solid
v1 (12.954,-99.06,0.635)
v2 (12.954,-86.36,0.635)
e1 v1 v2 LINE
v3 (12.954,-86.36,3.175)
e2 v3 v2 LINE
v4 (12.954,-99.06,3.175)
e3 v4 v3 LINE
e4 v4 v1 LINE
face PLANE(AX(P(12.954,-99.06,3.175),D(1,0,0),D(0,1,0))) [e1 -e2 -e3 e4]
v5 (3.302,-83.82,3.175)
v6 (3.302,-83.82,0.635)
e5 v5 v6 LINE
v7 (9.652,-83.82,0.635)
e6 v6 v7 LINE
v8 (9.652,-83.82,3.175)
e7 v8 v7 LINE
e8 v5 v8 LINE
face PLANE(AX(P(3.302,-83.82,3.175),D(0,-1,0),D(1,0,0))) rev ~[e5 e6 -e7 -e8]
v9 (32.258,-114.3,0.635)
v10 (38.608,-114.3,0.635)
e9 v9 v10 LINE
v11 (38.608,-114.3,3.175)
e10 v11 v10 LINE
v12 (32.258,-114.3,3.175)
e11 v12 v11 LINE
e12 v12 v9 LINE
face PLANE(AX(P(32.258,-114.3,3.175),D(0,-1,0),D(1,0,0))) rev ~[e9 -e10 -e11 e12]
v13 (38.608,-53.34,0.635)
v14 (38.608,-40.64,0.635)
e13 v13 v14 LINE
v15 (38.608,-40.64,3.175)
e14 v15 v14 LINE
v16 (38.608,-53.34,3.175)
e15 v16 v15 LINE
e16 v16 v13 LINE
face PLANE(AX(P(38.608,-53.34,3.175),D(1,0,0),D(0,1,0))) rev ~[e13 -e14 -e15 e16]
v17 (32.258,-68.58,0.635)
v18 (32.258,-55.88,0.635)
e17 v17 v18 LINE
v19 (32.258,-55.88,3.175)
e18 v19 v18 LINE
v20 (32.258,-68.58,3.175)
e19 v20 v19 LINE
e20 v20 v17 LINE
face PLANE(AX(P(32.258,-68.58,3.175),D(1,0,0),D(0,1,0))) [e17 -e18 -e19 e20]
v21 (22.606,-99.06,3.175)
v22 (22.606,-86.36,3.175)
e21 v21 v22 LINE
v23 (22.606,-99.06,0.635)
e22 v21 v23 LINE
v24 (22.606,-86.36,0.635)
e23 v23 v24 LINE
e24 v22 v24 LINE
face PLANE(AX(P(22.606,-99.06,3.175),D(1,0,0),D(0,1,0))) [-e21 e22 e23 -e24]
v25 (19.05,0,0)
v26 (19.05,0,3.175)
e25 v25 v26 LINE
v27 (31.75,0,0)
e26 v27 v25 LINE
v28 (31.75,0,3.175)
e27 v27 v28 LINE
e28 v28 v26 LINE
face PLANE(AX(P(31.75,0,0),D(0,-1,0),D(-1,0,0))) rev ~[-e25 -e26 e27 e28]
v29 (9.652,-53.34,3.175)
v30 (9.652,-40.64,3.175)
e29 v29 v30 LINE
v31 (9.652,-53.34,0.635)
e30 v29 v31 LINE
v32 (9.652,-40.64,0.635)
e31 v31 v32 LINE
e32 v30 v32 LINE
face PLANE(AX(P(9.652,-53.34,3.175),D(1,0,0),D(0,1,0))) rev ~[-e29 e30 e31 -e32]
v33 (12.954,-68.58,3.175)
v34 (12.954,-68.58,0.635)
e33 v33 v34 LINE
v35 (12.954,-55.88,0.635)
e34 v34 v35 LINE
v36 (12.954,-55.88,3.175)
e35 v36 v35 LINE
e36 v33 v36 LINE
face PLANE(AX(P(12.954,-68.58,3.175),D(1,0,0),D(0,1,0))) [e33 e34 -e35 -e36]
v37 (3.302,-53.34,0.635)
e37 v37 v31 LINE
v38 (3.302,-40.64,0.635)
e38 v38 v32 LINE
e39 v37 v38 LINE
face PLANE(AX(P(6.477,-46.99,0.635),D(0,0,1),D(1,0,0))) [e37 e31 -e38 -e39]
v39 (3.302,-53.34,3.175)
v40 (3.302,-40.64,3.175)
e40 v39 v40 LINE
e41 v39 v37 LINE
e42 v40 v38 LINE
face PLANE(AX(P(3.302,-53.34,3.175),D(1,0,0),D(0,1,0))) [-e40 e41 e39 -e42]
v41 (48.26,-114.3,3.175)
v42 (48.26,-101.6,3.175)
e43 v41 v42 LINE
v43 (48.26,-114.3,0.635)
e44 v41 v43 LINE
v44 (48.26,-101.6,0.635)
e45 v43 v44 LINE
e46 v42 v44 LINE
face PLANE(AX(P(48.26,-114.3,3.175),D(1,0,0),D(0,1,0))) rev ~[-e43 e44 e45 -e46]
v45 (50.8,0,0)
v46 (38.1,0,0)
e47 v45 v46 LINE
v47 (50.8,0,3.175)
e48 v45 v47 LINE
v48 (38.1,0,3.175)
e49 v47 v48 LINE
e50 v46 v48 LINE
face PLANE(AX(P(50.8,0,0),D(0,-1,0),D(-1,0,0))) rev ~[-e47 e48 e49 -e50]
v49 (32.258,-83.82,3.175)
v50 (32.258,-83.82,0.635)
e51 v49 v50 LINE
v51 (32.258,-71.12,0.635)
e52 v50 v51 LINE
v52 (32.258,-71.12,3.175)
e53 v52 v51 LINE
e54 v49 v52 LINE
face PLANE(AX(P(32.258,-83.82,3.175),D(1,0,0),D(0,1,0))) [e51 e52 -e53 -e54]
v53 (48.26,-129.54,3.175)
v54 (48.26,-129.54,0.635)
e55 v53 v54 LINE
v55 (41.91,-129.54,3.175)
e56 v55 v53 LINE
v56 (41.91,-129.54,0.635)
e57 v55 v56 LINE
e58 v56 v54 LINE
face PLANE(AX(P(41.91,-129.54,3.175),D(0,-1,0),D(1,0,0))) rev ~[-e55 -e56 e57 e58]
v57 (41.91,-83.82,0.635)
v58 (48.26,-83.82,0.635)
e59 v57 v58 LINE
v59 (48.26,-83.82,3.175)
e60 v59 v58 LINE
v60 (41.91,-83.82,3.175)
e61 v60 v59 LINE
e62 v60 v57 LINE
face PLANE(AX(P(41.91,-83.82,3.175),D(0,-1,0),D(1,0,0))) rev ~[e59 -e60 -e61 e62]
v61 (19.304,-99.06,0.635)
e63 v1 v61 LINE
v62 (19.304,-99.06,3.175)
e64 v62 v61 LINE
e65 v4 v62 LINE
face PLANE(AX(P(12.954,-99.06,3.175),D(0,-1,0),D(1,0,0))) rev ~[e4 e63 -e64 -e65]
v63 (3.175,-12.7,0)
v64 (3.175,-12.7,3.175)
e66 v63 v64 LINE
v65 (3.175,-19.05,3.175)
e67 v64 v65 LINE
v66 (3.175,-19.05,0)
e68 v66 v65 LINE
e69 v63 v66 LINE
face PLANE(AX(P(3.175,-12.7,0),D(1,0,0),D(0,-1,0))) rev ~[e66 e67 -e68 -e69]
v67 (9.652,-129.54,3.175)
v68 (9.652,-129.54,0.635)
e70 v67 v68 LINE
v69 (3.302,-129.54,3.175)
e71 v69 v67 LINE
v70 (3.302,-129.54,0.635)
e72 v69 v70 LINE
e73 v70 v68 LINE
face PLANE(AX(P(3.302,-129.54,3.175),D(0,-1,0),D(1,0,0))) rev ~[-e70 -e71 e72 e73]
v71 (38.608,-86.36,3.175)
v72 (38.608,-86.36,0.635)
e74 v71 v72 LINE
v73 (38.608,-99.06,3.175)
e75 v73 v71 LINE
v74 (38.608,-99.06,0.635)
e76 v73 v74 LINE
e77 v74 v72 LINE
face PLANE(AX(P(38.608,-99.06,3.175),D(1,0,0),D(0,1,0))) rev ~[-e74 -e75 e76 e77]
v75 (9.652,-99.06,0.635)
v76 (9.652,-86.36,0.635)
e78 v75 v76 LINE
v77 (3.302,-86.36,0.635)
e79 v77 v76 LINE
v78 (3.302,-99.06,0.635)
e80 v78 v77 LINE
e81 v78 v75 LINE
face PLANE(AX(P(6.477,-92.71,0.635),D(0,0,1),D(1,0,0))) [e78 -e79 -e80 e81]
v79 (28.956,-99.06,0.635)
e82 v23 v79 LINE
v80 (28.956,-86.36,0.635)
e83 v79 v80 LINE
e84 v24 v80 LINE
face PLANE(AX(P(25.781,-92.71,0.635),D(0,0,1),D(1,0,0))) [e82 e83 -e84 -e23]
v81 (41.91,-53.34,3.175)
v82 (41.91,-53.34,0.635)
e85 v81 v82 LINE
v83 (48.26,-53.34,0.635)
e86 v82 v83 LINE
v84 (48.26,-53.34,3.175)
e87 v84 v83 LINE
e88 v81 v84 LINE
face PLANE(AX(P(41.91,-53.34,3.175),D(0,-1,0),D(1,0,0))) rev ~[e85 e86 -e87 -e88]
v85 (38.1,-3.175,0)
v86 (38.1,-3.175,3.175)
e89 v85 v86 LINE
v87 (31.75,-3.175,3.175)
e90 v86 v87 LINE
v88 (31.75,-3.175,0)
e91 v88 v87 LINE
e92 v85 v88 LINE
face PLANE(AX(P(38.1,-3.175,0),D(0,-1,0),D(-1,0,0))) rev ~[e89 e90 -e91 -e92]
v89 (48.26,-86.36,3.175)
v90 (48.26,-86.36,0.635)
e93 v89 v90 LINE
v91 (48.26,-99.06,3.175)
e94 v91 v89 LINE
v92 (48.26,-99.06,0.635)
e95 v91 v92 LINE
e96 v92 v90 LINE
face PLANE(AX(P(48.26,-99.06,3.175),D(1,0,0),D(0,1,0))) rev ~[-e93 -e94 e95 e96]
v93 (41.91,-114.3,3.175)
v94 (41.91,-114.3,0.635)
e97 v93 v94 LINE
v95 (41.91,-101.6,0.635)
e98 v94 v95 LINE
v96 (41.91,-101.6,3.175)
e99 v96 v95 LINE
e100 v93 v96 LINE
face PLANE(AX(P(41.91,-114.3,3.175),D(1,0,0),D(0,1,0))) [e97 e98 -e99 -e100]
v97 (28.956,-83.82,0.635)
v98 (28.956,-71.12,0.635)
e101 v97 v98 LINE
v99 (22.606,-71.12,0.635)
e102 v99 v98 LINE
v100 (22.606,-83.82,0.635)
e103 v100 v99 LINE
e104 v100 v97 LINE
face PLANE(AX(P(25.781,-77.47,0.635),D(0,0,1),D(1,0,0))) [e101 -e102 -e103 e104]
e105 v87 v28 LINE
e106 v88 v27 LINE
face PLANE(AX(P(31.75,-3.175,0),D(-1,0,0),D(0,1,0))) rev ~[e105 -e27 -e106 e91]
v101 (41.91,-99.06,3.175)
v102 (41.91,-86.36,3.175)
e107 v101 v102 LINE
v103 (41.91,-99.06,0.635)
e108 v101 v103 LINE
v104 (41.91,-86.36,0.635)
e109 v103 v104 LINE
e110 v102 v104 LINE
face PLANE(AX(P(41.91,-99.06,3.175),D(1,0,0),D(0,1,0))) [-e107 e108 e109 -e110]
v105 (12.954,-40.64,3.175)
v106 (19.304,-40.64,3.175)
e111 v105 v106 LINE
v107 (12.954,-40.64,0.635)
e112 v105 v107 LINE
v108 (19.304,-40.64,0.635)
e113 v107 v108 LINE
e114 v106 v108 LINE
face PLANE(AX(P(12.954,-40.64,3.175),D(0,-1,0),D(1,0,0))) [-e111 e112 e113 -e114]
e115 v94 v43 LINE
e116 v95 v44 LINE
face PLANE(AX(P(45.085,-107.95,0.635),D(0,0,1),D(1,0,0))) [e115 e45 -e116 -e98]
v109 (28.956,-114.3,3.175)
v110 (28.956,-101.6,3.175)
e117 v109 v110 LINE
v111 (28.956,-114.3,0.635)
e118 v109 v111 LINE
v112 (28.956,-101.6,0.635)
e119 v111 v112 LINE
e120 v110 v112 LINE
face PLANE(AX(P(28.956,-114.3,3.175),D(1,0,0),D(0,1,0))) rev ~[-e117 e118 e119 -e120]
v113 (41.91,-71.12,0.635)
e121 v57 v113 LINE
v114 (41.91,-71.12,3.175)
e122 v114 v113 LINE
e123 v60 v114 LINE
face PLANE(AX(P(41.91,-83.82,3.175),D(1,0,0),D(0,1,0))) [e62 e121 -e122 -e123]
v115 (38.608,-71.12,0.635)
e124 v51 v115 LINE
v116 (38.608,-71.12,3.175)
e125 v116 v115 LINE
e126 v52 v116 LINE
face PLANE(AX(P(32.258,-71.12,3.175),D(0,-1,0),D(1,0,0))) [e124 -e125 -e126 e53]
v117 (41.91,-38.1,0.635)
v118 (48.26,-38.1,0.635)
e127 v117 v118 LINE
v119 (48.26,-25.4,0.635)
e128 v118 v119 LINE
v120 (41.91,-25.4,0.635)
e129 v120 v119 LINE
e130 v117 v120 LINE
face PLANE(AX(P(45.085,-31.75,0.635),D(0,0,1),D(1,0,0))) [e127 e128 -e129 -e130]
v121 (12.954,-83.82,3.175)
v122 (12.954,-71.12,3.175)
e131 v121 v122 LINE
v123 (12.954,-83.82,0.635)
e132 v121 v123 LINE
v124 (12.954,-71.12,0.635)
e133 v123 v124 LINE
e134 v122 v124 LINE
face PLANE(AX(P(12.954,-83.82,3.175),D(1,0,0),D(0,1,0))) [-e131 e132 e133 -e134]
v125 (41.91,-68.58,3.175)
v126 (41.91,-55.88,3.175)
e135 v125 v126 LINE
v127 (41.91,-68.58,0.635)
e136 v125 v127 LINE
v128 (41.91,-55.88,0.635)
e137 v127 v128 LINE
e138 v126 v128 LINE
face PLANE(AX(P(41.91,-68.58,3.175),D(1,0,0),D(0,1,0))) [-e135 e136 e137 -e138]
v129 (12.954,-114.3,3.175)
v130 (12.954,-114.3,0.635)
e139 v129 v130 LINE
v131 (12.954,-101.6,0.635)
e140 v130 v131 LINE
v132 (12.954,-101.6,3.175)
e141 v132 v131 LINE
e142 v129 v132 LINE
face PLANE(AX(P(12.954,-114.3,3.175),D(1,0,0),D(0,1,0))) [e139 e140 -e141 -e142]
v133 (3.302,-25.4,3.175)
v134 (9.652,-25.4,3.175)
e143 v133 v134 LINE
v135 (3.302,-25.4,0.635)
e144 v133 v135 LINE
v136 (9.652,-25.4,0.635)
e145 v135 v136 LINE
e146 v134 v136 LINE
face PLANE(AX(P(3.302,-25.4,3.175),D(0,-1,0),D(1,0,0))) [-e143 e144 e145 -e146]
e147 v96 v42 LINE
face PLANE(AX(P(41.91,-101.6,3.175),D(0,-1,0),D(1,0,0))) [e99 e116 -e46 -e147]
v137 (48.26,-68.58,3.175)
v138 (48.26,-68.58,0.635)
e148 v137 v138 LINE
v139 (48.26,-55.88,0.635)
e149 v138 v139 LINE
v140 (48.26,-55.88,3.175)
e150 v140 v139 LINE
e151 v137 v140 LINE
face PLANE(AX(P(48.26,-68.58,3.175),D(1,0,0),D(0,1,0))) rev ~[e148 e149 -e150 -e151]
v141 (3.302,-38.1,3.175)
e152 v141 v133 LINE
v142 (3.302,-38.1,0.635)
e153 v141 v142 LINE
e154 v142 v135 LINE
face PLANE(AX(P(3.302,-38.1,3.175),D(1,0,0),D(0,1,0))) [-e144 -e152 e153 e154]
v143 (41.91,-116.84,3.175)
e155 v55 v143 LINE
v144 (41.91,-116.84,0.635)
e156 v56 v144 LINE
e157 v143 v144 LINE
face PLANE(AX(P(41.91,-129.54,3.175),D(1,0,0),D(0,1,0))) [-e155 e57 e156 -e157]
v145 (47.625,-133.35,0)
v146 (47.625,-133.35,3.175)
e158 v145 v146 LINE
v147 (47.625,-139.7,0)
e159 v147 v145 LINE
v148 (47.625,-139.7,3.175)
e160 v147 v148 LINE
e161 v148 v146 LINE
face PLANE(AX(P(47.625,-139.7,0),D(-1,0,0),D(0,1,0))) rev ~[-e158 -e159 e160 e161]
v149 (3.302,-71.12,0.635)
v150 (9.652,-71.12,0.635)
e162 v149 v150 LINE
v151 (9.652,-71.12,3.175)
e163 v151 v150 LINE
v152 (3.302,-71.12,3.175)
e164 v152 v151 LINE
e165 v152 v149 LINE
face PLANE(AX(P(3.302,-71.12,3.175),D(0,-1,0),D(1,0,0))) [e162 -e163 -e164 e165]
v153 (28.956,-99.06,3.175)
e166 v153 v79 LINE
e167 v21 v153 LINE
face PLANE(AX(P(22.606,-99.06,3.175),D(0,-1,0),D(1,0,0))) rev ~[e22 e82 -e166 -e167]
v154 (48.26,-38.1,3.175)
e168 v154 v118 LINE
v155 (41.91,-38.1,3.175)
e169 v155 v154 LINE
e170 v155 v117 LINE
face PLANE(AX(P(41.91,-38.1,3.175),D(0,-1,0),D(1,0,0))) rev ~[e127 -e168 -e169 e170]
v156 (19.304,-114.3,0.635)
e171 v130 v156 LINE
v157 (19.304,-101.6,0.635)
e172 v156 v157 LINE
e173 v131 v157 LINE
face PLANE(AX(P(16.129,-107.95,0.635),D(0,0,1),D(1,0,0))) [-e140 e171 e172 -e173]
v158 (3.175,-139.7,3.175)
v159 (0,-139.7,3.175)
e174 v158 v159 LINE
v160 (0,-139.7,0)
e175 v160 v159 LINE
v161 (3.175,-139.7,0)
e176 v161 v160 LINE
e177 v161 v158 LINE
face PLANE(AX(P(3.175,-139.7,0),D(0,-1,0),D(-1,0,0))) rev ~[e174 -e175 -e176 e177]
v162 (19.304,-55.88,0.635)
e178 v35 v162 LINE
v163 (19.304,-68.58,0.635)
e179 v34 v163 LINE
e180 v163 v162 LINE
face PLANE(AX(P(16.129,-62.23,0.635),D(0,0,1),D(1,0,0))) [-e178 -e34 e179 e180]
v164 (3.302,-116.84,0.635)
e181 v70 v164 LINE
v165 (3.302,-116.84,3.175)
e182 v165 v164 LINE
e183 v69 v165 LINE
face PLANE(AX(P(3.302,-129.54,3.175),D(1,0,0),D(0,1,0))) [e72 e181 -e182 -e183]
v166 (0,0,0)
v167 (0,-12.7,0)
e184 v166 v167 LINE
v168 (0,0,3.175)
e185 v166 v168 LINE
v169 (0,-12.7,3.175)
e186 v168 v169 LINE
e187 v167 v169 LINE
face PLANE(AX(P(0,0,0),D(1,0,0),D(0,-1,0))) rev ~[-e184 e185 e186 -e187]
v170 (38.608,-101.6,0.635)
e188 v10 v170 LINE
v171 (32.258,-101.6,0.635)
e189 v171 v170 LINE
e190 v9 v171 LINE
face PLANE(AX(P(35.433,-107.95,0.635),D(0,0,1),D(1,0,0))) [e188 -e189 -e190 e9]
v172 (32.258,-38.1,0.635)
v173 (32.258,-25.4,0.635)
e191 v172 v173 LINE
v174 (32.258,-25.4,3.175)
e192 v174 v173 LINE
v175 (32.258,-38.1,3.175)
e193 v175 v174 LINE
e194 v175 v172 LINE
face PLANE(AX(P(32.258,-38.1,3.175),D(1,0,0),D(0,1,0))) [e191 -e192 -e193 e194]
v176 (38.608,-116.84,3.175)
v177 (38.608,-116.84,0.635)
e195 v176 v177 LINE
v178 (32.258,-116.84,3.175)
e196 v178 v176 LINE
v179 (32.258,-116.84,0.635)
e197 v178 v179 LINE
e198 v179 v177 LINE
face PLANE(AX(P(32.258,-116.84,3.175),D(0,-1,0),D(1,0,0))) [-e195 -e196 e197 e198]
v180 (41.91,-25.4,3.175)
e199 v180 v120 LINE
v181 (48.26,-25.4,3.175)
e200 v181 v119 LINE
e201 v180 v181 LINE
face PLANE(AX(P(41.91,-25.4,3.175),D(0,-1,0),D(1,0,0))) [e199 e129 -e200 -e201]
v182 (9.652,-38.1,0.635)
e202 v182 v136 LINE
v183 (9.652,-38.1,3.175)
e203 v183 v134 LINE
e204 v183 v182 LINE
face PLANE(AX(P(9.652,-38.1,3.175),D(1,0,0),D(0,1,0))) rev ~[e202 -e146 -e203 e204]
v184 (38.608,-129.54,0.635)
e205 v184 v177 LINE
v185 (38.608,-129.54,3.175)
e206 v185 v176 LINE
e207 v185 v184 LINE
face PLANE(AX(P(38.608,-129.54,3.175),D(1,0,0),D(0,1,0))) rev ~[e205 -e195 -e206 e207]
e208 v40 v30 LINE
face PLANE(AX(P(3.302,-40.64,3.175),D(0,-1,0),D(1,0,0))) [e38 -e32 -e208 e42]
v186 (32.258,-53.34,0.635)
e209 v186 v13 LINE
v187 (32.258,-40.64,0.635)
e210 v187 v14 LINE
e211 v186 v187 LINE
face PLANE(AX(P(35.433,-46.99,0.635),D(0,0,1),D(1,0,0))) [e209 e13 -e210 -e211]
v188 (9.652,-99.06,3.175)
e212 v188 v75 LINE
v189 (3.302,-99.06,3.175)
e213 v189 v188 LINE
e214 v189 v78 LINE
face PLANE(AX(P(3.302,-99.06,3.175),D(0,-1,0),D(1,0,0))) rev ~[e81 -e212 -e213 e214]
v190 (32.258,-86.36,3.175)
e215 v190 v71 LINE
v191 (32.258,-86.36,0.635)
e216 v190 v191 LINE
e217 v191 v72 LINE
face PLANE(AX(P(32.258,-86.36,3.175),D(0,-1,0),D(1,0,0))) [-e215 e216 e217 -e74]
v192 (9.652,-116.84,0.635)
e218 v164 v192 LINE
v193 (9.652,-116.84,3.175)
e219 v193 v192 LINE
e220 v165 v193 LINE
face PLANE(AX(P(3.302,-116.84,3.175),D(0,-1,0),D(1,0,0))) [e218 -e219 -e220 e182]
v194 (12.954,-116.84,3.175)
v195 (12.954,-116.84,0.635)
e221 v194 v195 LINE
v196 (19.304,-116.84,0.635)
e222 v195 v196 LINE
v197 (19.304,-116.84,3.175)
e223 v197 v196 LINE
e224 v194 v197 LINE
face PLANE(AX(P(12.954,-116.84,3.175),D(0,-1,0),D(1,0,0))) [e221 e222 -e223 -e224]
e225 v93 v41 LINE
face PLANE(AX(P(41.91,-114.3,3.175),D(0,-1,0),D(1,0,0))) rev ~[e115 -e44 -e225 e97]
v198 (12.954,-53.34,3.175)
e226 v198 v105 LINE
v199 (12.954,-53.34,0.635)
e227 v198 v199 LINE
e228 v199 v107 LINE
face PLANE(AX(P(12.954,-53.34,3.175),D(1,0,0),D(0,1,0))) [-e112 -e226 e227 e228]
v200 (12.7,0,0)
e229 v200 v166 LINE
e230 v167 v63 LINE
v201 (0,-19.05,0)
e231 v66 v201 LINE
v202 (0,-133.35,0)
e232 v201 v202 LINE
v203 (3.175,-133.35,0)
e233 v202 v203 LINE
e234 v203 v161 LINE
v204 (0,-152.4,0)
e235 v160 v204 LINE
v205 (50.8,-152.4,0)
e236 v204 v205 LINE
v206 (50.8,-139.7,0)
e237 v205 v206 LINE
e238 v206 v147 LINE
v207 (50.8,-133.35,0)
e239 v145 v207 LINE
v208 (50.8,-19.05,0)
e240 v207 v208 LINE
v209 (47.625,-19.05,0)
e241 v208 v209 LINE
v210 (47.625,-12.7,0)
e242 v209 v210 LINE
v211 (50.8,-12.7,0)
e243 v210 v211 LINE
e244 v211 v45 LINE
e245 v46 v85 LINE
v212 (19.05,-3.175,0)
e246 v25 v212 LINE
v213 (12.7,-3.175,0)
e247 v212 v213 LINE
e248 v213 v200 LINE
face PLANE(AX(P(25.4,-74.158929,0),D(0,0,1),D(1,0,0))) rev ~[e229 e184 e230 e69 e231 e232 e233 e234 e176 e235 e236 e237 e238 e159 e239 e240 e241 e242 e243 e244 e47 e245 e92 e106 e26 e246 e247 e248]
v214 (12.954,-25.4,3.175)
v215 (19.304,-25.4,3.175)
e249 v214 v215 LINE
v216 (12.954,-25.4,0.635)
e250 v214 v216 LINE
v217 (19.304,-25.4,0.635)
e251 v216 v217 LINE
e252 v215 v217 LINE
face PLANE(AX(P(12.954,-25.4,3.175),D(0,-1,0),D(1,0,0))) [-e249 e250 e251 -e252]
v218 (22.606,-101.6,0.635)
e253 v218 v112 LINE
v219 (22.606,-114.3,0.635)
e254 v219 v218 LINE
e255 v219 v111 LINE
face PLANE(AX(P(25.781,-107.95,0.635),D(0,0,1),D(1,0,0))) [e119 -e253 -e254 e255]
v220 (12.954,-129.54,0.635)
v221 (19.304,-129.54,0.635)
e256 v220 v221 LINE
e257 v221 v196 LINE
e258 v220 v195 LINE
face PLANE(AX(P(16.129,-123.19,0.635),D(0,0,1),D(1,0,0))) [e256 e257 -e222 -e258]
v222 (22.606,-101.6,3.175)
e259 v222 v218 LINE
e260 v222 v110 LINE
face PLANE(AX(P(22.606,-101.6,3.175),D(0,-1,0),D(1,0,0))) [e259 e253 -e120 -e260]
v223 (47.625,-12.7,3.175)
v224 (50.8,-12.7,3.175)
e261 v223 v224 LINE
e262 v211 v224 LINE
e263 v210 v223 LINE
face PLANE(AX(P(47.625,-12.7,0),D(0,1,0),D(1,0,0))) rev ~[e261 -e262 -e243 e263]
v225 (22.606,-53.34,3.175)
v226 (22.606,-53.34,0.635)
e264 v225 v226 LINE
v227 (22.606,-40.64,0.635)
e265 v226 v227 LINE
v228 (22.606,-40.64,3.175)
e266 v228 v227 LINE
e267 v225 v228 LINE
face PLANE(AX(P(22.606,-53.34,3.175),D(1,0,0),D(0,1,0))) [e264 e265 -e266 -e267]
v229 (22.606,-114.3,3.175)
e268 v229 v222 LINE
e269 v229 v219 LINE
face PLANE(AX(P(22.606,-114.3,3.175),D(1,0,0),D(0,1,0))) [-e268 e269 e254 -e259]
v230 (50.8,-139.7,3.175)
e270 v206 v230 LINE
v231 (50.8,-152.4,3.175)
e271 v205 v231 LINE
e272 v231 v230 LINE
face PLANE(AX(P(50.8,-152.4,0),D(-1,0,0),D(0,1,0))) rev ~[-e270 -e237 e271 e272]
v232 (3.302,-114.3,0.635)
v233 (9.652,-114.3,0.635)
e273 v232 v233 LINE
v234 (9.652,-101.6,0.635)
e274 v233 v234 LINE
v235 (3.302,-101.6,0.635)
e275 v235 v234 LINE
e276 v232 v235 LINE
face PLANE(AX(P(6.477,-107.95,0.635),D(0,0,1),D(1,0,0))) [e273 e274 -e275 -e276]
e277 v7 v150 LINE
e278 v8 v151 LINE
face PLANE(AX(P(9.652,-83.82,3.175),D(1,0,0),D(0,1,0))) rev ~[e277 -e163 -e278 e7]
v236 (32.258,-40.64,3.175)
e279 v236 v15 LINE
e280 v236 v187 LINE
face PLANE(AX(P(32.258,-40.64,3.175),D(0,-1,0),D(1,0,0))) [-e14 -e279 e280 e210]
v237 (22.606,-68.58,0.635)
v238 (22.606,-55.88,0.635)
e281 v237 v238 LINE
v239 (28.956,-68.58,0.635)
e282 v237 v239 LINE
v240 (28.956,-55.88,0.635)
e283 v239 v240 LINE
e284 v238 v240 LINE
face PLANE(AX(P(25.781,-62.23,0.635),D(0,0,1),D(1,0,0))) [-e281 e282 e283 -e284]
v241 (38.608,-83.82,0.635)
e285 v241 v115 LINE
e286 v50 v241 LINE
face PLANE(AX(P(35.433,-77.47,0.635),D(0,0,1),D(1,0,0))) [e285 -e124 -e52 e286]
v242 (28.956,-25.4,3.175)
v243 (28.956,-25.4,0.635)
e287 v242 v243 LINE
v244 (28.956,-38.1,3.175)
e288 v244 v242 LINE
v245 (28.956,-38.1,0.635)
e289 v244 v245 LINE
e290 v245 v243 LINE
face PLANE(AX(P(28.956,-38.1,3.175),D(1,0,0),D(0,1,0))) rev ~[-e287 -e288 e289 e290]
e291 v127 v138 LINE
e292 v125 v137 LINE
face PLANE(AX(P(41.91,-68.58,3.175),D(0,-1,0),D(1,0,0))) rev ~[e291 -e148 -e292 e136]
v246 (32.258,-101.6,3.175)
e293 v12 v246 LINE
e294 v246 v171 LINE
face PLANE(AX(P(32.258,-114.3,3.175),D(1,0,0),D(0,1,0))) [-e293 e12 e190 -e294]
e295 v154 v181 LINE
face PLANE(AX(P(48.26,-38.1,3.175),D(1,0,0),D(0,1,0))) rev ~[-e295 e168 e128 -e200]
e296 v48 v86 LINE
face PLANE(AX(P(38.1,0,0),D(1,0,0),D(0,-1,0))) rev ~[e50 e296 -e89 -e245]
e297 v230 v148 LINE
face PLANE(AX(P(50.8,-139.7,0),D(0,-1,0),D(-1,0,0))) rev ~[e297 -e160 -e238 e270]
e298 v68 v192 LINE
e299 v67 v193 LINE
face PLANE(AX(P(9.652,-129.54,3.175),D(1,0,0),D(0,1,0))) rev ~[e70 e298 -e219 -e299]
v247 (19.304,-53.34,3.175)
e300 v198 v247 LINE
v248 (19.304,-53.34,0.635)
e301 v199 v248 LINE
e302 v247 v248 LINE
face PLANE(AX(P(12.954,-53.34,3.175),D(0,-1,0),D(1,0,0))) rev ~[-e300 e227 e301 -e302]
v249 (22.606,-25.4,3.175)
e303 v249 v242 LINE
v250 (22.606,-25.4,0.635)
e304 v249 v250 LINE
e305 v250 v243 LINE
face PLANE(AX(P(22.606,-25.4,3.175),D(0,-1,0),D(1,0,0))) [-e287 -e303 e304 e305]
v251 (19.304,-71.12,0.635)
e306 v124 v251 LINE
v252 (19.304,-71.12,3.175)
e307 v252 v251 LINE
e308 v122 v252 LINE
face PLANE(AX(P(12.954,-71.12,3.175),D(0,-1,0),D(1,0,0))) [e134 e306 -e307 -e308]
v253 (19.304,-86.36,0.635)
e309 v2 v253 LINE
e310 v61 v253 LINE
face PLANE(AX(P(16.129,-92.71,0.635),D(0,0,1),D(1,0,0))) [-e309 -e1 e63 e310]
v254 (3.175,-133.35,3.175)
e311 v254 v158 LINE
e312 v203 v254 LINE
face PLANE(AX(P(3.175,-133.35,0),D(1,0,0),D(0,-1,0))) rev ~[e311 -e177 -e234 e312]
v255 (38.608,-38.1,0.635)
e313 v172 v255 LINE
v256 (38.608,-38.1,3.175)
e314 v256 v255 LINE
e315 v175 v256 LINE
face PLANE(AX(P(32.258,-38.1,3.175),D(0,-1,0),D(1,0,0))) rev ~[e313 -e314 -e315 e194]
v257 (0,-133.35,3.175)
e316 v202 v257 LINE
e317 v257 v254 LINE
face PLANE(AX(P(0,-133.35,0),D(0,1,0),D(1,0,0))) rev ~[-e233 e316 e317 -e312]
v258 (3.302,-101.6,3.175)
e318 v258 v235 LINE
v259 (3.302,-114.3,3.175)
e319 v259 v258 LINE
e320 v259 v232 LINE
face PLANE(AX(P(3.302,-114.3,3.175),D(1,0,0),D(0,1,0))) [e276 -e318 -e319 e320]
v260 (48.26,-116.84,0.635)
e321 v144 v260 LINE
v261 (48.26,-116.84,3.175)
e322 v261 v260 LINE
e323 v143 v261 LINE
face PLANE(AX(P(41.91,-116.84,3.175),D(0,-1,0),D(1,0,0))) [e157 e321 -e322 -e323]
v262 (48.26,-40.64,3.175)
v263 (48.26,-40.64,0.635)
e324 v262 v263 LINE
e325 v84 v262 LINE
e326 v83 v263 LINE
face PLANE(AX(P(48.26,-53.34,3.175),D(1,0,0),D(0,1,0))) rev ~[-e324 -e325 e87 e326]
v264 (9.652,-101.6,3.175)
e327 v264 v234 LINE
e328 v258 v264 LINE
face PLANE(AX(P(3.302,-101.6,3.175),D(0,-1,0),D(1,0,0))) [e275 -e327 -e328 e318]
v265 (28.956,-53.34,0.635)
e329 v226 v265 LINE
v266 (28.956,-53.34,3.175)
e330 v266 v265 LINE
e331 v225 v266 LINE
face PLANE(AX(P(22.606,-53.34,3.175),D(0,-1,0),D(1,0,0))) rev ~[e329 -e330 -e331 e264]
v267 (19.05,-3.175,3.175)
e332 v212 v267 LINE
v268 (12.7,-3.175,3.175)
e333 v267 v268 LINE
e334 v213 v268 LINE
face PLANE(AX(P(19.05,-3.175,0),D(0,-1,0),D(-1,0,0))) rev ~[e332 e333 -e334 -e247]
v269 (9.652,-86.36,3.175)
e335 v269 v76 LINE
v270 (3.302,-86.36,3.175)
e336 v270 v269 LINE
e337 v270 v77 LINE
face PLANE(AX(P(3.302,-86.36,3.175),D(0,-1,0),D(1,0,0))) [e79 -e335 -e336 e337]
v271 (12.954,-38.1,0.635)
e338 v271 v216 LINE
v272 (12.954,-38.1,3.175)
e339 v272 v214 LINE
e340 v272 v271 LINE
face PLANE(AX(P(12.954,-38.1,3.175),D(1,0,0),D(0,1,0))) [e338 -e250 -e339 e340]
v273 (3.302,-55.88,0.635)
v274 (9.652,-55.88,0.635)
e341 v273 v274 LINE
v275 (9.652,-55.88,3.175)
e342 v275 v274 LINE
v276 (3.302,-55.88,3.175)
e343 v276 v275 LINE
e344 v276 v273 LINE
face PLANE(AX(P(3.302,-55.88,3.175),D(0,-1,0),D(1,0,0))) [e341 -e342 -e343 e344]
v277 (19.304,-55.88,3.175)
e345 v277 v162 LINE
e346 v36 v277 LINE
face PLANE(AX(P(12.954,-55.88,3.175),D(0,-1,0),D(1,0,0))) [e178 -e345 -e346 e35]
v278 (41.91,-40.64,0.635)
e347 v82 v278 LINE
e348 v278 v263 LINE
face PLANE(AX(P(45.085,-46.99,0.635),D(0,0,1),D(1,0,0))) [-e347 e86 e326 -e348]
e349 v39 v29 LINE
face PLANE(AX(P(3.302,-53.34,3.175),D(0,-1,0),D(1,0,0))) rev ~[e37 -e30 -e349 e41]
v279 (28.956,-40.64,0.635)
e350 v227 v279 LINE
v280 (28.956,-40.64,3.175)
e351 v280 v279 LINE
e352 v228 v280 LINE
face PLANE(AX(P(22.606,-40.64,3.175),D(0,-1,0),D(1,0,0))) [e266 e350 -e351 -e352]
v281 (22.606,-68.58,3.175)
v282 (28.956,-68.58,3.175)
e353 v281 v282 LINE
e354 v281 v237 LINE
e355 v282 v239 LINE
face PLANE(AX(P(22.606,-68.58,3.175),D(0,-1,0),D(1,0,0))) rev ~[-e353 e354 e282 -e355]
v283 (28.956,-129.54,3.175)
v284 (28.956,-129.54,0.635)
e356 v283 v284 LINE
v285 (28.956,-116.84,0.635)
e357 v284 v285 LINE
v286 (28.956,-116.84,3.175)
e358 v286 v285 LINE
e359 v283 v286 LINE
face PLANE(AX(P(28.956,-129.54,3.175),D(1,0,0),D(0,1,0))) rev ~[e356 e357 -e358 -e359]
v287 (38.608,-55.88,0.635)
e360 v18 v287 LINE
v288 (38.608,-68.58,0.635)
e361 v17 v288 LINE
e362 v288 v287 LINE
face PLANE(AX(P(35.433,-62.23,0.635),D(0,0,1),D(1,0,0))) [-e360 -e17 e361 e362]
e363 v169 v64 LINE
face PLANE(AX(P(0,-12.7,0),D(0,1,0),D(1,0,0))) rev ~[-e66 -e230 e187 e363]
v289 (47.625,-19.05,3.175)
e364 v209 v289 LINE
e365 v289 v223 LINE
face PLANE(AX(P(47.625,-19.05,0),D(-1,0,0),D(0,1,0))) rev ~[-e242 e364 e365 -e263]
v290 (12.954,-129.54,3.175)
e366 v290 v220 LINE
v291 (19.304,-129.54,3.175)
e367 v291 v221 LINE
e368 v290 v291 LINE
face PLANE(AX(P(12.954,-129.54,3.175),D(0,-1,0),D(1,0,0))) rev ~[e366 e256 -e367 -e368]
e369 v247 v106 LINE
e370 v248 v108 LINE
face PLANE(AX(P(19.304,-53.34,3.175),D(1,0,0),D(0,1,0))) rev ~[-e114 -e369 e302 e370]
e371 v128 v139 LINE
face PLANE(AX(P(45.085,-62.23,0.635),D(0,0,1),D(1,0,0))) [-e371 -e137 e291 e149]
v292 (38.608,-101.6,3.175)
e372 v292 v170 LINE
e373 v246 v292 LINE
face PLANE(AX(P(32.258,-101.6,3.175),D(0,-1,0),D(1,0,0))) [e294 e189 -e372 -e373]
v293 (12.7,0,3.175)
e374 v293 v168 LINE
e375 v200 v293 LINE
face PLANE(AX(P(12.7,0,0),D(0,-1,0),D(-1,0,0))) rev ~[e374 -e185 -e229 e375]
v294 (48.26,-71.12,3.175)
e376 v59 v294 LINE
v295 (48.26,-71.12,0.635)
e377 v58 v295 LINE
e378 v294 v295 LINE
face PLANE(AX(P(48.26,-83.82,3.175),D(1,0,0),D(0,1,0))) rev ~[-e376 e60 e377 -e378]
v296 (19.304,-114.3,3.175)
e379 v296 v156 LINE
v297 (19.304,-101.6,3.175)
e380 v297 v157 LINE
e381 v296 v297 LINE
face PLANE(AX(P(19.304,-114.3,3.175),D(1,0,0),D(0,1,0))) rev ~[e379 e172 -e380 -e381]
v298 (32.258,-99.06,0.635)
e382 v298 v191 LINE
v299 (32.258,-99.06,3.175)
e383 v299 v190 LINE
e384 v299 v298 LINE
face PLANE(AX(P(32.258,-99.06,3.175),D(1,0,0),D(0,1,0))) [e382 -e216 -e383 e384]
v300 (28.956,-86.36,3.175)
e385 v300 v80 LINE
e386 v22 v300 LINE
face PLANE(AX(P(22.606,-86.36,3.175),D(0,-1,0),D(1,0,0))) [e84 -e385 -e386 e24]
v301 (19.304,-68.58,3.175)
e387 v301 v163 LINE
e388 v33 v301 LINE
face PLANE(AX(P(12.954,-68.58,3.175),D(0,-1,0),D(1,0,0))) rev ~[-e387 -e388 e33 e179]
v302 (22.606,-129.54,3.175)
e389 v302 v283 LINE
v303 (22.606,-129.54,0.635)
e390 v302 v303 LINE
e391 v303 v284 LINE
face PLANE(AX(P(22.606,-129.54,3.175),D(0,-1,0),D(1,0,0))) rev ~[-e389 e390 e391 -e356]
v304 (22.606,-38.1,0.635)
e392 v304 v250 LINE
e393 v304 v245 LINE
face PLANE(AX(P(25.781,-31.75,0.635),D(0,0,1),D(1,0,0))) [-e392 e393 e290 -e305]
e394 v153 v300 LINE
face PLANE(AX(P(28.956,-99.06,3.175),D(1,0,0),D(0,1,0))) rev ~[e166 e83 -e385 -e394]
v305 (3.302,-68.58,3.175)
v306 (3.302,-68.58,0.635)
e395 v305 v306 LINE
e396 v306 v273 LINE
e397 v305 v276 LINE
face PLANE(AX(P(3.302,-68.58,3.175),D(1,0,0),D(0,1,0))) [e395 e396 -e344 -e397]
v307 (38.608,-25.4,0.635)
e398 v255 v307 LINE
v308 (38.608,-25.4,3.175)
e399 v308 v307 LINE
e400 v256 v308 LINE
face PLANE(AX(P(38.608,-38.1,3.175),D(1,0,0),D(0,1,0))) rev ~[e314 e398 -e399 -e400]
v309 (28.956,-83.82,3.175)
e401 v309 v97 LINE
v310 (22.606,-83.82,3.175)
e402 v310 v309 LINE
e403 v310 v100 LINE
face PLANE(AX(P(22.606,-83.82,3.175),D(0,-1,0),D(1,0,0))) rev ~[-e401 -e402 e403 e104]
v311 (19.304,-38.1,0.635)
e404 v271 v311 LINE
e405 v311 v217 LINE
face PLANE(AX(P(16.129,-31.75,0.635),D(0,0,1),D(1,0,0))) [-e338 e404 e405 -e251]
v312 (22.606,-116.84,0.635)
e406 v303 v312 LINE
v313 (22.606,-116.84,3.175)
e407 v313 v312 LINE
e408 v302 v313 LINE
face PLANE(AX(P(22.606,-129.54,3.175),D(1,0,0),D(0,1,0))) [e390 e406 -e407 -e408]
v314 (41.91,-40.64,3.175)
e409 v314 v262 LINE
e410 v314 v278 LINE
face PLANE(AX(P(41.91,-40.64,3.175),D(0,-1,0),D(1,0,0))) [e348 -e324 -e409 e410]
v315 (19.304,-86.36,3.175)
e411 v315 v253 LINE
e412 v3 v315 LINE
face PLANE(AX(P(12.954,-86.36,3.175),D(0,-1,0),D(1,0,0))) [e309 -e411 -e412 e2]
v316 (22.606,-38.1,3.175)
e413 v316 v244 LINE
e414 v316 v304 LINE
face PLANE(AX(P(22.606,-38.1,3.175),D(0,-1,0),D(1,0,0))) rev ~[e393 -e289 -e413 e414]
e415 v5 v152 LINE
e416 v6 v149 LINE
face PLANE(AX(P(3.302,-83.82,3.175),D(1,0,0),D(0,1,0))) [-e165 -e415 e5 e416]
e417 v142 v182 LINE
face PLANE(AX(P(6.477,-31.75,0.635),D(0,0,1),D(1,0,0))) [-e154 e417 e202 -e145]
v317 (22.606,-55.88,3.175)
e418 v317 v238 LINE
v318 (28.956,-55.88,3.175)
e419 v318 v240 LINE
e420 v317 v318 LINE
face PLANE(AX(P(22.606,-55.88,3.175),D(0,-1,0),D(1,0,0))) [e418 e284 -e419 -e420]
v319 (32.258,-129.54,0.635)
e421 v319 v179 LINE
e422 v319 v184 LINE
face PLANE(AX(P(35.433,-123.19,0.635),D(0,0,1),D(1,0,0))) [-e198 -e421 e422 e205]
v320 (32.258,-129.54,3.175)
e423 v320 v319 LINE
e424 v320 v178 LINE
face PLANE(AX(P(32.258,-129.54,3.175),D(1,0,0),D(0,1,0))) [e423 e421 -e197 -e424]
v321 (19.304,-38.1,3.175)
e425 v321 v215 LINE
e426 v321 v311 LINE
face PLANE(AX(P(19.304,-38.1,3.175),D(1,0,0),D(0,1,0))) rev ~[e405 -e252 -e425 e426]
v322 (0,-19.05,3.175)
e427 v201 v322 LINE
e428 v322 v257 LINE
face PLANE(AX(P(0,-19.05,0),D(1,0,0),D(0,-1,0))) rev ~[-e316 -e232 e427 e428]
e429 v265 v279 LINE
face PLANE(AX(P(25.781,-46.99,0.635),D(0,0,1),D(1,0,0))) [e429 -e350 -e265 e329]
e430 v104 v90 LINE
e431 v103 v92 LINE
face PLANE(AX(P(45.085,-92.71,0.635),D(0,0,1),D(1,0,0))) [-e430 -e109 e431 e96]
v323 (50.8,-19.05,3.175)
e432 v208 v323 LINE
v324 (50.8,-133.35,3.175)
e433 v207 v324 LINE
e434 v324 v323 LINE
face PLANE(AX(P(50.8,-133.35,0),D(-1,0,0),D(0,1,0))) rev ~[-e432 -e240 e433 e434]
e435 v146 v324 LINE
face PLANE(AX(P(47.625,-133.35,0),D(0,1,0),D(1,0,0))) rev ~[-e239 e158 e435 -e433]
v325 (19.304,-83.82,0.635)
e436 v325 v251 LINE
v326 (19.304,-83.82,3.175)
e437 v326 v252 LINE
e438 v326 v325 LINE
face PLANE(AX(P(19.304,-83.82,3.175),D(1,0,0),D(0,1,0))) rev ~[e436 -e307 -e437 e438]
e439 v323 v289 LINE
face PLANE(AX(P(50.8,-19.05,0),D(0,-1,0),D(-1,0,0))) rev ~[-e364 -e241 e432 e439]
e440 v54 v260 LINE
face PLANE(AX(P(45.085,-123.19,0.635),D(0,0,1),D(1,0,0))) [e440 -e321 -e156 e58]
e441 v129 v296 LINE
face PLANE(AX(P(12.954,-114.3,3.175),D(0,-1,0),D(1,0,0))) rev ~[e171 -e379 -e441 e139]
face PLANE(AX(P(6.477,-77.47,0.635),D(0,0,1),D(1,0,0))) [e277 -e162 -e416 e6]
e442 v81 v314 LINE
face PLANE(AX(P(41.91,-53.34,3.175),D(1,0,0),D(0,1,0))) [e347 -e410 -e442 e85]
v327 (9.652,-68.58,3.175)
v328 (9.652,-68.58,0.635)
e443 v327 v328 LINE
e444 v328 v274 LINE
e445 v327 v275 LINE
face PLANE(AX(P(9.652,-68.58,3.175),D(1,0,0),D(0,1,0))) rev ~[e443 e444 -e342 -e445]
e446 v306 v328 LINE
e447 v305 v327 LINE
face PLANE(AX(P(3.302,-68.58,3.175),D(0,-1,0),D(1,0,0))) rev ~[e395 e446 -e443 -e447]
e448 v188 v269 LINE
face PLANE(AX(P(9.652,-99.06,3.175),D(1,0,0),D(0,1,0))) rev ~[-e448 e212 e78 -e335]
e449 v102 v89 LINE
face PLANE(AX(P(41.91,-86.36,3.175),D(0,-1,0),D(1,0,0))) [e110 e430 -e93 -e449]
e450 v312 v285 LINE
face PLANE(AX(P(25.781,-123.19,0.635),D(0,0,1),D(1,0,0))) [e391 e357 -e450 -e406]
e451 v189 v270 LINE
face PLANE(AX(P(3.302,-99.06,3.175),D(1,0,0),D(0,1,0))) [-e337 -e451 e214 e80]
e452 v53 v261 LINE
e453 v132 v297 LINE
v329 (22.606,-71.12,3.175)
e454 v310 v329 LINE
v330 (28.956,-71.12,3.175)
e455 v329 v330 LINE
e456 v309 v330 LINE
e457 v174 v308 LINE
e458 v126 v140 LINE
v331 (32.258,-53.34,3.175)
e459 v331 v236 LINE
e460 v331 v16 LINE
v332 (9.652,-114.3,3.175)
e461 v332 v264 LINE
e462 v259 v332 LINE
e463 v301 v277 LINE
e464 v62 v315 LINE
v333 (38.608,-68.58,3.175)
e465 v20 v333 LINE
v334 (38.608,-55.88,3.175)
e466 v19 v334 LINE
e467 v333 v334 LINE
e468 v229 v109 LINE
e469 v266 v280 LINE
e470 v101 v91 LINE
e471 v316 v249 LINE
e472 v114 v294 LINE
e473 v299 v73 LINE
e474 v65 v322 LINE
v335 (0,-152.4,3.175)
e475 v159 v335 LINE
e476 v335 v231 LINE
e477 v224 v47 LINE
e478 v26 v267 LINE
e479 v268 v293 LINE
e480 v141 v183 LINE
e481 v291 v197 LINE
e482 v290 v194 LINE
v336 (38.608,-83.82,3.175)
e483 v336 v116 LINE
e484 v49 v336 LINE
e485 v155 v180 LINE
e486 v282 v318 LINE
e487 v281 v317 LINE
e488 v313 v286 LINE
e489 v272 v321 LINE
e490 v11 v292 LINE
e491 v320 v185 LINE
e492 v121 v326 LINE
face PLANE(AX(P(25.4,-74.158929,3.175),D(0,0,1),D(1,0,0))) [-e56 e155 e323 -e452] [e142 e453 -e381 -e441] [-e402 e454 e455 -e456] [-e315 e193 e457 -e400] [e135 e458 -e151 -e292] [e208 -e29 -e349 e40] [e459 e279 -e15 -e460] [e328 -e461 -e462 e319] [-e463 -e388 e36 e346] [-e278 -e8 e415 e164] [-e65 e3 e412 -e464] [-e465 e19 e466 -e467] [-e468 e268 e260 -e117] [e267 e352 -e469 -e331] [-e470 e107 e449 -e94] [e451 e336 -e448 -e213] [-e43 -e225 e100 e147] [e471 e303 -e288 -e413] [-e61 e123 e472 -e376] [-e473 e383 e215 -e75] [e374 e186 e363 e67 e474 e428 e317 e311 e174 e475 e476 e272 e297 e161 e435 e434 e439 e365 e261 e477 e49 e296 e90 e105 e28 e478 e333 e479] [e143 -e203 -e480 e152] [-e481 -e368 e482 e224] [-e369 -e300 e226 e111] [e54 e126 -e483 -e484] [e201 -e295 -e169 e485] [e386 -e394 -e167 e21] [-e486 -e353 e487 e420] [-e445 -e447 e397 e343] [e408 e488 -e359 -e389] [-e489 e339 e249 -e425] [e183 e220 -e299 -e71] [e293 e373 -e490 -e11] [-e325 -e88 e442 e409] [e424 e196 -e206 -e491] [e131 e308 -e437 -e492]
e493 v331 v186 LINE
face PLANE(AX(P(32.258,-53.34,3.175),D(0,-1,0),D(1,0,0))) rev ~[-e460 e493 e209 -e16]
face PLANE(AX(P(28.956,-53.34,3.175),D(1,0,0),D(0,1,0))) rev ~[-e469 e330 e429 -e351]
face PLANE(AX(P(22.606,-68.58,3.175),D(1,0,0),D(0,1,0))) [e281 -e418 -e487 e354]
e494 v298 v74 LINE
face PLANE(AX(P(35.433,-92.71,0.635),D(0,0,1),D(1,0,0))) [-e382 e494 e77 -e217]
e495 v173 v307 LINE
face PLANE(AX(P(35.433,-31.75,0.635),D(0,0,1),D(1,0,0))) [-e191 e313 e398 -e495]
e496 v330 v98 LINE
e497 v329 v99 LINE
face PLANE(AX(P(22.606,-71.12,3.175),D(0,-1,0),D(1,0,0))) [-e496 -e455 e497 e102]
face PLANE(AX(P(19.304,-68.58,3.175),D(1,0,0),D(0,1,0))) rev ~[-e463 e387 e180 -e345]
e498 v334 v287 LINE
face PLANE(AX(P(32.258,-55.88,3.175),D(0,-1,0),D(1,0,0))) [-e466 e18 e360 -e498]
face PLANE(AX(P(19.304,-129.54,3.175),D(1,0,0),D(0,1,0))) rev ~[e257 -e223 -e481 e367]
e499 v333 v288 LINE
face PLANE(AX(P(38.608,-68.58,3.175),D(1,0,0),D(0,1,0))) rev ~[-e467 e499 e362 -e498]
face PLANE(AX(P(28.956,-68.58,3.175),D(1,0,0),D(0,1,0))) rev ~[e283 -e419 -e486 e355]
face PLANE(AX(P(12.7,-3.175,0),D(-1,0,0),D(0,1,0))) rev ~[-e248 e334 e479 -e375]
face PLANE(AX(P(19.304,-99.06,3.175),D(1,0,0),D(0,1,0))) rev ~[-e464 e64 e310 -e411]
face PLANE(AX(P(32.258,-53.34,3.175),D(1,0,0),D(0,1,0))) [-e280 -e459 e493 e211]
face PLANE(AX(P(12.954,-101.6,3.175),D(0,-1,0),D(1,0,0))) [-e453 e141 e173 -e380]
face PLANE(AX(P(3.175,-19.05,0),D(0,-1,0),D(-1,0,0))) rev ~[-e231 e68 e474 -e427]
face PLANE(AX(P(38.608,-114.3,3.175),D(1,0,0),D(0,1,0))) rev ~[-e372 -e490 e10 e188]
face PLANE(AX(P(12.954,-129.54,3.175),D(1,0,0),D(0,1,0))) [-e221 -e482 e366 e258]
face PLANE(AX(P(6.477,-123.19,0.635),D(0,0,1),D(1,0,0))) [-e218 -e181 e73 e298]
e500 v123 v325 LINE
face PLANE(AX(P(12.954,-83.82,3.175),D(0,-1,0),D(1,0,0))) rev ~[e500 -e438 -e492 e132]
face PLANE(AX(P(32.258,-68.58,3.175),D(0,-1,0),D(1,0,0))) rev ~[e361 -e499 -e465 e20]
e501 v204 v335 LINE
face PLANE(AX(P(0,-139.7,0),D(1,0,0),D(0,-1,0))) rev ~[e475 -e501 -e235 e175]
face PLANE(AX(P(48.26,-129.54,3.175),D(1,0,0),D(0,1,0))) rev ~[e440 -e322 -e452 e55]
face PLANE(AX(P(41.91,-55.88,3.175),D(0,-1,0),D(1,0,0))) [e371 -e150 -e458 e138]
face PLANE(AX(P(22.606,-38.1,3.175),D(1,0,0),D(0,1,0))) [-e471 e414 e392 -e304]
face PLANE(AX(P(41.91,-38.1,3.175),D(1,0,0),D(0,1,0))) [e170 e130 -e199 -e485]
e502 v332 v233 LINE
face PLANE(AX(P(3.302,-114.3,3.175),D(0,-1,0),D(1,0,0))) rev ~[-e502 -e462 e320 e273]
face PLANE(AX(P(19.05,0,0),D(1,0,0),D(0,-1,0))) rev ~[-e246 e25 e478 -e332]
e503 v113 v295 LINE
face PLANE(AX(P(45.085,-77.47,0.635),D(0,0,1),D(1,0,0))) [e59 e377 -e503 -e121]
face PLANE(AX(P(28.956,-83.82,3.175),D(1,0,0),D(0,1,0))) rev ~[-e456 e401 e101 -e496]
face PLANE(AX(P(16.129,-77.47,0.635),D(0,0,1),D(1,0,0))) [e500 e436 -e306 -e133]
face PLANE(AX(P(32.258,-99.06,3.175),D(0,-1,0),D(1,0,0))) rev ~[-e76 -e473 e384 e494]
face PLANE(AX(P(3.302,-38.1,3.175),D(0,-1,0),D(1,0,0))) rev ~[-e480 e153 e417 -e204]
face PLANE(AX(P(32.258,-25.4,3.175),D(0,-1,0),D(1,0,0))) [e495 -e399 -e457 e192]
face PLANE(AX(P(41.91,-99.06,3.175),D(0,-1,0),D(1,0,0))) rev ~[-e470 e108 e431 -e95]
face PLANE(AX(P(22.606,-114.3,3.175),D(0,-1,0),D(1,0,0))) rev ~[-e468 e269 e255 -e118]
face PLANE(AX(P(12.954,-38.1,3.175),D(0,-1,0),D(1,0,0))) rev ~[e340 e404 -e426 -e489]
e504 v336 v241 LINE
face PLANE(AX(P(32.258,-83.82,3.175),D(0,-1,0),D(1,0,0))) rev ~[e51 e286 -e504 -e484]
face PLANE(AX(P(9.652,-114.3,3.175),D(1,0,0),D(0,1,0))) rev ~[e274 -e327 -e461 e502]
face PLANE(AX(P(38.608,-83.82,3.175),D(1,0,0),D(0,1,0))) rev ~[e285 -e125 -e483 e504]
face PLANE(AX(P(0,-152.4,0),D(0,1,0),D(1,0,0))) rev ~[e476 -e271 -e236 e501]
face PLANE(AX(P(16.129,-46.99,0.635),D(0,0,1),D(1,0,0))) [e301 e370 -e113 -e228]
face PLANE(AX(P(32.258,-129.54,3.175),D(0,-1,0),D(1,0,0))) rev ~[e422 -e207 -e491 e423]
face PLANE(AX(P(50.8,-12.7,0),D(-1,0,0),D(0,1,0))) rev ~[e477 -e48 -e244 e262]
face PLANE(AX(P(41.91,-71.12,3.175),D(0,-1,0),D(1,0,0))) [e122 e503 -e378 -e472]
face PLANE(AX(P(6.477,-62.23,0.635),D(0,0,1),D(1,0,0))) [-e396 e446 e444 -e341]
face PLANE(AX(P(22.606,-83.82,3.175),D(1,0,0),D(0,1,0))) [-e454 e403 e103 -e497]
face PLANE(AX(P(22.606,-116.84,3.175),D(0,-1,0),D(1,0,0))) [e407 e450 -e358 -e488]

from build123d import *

# Parameters (mm, degrees)
BOSS_EXTRUDE1_DEPTH  = 3.175
SKETCH2_W            = 6.35
SKETCH2_H            = 12.7
CUT_EXTRUDE1_DEPTH   = 2.54
LPATTERN1_COUNT      = 5
LPATTERN1_PITCH      = 9.652
LPATTERN1_COUNT_DIR2 = 7
LPATTERN1_PITCH_DIR2 = 15.24


with BuildPart() as part:
    # Sketch1 → Boss-Extrude1 (new body)
    with BuildSketch(Plane.XY):
        Polygon((0, -152.4), (12.7, -152.4), (38.1, -152.4), (50.8, -152.4), (50.8, -139.7), (47.625, -139.7), (47.625, -133.35), (50.8, -133.35), (50.8, -19.05), (47.625, -19.05), (47.625, -12.7), (50.8, -12.7), (50.8, 0), (38.1, 0), (38.1, -3.175), (31.75, -3.175), (31.75, 0), (19.05, 0), (19.05, -3.175), (12.7, -3.175), (12.7, 0), (0, 0), (0, -12.7), (3.175, -12.7), (3.175, -19.05), (0, -19.05), (0, -133.35), (3.175, -133.35), (3.175, -139.7), (0, -139.7), align=None)
    extrude(amount=BOSS_EXTRUDE1_DEPTH)

    # Sketch2 → Cut-Extrude1 (cut)
    with BuildSketch(Plane.XY.offset(3.175)):
        with Locations((6.477, -31.75)):
            Rectangle(SKETCH2_W, SKETCH2_H)
    cut_extrude1 = extrude(amount=-CUT_EXTRUDE1_DEPTH, mode=Mode.SUBTRACT)

    # LPattern1: Cut-Extrude1 5 × 7
    with Locations(*[(i * LPATTERN1_PITCH, -j * LPATTERN1_PITCH_DIR2, 0) for i in range(LPATTERN1_COUNT) for j in range(LPATTERN1_COUNT_DIR2) if (i, j) != (0, 0)]):
        add(cut_extrude1, mode=Mode.SUBTRACT)


solid = part.part
